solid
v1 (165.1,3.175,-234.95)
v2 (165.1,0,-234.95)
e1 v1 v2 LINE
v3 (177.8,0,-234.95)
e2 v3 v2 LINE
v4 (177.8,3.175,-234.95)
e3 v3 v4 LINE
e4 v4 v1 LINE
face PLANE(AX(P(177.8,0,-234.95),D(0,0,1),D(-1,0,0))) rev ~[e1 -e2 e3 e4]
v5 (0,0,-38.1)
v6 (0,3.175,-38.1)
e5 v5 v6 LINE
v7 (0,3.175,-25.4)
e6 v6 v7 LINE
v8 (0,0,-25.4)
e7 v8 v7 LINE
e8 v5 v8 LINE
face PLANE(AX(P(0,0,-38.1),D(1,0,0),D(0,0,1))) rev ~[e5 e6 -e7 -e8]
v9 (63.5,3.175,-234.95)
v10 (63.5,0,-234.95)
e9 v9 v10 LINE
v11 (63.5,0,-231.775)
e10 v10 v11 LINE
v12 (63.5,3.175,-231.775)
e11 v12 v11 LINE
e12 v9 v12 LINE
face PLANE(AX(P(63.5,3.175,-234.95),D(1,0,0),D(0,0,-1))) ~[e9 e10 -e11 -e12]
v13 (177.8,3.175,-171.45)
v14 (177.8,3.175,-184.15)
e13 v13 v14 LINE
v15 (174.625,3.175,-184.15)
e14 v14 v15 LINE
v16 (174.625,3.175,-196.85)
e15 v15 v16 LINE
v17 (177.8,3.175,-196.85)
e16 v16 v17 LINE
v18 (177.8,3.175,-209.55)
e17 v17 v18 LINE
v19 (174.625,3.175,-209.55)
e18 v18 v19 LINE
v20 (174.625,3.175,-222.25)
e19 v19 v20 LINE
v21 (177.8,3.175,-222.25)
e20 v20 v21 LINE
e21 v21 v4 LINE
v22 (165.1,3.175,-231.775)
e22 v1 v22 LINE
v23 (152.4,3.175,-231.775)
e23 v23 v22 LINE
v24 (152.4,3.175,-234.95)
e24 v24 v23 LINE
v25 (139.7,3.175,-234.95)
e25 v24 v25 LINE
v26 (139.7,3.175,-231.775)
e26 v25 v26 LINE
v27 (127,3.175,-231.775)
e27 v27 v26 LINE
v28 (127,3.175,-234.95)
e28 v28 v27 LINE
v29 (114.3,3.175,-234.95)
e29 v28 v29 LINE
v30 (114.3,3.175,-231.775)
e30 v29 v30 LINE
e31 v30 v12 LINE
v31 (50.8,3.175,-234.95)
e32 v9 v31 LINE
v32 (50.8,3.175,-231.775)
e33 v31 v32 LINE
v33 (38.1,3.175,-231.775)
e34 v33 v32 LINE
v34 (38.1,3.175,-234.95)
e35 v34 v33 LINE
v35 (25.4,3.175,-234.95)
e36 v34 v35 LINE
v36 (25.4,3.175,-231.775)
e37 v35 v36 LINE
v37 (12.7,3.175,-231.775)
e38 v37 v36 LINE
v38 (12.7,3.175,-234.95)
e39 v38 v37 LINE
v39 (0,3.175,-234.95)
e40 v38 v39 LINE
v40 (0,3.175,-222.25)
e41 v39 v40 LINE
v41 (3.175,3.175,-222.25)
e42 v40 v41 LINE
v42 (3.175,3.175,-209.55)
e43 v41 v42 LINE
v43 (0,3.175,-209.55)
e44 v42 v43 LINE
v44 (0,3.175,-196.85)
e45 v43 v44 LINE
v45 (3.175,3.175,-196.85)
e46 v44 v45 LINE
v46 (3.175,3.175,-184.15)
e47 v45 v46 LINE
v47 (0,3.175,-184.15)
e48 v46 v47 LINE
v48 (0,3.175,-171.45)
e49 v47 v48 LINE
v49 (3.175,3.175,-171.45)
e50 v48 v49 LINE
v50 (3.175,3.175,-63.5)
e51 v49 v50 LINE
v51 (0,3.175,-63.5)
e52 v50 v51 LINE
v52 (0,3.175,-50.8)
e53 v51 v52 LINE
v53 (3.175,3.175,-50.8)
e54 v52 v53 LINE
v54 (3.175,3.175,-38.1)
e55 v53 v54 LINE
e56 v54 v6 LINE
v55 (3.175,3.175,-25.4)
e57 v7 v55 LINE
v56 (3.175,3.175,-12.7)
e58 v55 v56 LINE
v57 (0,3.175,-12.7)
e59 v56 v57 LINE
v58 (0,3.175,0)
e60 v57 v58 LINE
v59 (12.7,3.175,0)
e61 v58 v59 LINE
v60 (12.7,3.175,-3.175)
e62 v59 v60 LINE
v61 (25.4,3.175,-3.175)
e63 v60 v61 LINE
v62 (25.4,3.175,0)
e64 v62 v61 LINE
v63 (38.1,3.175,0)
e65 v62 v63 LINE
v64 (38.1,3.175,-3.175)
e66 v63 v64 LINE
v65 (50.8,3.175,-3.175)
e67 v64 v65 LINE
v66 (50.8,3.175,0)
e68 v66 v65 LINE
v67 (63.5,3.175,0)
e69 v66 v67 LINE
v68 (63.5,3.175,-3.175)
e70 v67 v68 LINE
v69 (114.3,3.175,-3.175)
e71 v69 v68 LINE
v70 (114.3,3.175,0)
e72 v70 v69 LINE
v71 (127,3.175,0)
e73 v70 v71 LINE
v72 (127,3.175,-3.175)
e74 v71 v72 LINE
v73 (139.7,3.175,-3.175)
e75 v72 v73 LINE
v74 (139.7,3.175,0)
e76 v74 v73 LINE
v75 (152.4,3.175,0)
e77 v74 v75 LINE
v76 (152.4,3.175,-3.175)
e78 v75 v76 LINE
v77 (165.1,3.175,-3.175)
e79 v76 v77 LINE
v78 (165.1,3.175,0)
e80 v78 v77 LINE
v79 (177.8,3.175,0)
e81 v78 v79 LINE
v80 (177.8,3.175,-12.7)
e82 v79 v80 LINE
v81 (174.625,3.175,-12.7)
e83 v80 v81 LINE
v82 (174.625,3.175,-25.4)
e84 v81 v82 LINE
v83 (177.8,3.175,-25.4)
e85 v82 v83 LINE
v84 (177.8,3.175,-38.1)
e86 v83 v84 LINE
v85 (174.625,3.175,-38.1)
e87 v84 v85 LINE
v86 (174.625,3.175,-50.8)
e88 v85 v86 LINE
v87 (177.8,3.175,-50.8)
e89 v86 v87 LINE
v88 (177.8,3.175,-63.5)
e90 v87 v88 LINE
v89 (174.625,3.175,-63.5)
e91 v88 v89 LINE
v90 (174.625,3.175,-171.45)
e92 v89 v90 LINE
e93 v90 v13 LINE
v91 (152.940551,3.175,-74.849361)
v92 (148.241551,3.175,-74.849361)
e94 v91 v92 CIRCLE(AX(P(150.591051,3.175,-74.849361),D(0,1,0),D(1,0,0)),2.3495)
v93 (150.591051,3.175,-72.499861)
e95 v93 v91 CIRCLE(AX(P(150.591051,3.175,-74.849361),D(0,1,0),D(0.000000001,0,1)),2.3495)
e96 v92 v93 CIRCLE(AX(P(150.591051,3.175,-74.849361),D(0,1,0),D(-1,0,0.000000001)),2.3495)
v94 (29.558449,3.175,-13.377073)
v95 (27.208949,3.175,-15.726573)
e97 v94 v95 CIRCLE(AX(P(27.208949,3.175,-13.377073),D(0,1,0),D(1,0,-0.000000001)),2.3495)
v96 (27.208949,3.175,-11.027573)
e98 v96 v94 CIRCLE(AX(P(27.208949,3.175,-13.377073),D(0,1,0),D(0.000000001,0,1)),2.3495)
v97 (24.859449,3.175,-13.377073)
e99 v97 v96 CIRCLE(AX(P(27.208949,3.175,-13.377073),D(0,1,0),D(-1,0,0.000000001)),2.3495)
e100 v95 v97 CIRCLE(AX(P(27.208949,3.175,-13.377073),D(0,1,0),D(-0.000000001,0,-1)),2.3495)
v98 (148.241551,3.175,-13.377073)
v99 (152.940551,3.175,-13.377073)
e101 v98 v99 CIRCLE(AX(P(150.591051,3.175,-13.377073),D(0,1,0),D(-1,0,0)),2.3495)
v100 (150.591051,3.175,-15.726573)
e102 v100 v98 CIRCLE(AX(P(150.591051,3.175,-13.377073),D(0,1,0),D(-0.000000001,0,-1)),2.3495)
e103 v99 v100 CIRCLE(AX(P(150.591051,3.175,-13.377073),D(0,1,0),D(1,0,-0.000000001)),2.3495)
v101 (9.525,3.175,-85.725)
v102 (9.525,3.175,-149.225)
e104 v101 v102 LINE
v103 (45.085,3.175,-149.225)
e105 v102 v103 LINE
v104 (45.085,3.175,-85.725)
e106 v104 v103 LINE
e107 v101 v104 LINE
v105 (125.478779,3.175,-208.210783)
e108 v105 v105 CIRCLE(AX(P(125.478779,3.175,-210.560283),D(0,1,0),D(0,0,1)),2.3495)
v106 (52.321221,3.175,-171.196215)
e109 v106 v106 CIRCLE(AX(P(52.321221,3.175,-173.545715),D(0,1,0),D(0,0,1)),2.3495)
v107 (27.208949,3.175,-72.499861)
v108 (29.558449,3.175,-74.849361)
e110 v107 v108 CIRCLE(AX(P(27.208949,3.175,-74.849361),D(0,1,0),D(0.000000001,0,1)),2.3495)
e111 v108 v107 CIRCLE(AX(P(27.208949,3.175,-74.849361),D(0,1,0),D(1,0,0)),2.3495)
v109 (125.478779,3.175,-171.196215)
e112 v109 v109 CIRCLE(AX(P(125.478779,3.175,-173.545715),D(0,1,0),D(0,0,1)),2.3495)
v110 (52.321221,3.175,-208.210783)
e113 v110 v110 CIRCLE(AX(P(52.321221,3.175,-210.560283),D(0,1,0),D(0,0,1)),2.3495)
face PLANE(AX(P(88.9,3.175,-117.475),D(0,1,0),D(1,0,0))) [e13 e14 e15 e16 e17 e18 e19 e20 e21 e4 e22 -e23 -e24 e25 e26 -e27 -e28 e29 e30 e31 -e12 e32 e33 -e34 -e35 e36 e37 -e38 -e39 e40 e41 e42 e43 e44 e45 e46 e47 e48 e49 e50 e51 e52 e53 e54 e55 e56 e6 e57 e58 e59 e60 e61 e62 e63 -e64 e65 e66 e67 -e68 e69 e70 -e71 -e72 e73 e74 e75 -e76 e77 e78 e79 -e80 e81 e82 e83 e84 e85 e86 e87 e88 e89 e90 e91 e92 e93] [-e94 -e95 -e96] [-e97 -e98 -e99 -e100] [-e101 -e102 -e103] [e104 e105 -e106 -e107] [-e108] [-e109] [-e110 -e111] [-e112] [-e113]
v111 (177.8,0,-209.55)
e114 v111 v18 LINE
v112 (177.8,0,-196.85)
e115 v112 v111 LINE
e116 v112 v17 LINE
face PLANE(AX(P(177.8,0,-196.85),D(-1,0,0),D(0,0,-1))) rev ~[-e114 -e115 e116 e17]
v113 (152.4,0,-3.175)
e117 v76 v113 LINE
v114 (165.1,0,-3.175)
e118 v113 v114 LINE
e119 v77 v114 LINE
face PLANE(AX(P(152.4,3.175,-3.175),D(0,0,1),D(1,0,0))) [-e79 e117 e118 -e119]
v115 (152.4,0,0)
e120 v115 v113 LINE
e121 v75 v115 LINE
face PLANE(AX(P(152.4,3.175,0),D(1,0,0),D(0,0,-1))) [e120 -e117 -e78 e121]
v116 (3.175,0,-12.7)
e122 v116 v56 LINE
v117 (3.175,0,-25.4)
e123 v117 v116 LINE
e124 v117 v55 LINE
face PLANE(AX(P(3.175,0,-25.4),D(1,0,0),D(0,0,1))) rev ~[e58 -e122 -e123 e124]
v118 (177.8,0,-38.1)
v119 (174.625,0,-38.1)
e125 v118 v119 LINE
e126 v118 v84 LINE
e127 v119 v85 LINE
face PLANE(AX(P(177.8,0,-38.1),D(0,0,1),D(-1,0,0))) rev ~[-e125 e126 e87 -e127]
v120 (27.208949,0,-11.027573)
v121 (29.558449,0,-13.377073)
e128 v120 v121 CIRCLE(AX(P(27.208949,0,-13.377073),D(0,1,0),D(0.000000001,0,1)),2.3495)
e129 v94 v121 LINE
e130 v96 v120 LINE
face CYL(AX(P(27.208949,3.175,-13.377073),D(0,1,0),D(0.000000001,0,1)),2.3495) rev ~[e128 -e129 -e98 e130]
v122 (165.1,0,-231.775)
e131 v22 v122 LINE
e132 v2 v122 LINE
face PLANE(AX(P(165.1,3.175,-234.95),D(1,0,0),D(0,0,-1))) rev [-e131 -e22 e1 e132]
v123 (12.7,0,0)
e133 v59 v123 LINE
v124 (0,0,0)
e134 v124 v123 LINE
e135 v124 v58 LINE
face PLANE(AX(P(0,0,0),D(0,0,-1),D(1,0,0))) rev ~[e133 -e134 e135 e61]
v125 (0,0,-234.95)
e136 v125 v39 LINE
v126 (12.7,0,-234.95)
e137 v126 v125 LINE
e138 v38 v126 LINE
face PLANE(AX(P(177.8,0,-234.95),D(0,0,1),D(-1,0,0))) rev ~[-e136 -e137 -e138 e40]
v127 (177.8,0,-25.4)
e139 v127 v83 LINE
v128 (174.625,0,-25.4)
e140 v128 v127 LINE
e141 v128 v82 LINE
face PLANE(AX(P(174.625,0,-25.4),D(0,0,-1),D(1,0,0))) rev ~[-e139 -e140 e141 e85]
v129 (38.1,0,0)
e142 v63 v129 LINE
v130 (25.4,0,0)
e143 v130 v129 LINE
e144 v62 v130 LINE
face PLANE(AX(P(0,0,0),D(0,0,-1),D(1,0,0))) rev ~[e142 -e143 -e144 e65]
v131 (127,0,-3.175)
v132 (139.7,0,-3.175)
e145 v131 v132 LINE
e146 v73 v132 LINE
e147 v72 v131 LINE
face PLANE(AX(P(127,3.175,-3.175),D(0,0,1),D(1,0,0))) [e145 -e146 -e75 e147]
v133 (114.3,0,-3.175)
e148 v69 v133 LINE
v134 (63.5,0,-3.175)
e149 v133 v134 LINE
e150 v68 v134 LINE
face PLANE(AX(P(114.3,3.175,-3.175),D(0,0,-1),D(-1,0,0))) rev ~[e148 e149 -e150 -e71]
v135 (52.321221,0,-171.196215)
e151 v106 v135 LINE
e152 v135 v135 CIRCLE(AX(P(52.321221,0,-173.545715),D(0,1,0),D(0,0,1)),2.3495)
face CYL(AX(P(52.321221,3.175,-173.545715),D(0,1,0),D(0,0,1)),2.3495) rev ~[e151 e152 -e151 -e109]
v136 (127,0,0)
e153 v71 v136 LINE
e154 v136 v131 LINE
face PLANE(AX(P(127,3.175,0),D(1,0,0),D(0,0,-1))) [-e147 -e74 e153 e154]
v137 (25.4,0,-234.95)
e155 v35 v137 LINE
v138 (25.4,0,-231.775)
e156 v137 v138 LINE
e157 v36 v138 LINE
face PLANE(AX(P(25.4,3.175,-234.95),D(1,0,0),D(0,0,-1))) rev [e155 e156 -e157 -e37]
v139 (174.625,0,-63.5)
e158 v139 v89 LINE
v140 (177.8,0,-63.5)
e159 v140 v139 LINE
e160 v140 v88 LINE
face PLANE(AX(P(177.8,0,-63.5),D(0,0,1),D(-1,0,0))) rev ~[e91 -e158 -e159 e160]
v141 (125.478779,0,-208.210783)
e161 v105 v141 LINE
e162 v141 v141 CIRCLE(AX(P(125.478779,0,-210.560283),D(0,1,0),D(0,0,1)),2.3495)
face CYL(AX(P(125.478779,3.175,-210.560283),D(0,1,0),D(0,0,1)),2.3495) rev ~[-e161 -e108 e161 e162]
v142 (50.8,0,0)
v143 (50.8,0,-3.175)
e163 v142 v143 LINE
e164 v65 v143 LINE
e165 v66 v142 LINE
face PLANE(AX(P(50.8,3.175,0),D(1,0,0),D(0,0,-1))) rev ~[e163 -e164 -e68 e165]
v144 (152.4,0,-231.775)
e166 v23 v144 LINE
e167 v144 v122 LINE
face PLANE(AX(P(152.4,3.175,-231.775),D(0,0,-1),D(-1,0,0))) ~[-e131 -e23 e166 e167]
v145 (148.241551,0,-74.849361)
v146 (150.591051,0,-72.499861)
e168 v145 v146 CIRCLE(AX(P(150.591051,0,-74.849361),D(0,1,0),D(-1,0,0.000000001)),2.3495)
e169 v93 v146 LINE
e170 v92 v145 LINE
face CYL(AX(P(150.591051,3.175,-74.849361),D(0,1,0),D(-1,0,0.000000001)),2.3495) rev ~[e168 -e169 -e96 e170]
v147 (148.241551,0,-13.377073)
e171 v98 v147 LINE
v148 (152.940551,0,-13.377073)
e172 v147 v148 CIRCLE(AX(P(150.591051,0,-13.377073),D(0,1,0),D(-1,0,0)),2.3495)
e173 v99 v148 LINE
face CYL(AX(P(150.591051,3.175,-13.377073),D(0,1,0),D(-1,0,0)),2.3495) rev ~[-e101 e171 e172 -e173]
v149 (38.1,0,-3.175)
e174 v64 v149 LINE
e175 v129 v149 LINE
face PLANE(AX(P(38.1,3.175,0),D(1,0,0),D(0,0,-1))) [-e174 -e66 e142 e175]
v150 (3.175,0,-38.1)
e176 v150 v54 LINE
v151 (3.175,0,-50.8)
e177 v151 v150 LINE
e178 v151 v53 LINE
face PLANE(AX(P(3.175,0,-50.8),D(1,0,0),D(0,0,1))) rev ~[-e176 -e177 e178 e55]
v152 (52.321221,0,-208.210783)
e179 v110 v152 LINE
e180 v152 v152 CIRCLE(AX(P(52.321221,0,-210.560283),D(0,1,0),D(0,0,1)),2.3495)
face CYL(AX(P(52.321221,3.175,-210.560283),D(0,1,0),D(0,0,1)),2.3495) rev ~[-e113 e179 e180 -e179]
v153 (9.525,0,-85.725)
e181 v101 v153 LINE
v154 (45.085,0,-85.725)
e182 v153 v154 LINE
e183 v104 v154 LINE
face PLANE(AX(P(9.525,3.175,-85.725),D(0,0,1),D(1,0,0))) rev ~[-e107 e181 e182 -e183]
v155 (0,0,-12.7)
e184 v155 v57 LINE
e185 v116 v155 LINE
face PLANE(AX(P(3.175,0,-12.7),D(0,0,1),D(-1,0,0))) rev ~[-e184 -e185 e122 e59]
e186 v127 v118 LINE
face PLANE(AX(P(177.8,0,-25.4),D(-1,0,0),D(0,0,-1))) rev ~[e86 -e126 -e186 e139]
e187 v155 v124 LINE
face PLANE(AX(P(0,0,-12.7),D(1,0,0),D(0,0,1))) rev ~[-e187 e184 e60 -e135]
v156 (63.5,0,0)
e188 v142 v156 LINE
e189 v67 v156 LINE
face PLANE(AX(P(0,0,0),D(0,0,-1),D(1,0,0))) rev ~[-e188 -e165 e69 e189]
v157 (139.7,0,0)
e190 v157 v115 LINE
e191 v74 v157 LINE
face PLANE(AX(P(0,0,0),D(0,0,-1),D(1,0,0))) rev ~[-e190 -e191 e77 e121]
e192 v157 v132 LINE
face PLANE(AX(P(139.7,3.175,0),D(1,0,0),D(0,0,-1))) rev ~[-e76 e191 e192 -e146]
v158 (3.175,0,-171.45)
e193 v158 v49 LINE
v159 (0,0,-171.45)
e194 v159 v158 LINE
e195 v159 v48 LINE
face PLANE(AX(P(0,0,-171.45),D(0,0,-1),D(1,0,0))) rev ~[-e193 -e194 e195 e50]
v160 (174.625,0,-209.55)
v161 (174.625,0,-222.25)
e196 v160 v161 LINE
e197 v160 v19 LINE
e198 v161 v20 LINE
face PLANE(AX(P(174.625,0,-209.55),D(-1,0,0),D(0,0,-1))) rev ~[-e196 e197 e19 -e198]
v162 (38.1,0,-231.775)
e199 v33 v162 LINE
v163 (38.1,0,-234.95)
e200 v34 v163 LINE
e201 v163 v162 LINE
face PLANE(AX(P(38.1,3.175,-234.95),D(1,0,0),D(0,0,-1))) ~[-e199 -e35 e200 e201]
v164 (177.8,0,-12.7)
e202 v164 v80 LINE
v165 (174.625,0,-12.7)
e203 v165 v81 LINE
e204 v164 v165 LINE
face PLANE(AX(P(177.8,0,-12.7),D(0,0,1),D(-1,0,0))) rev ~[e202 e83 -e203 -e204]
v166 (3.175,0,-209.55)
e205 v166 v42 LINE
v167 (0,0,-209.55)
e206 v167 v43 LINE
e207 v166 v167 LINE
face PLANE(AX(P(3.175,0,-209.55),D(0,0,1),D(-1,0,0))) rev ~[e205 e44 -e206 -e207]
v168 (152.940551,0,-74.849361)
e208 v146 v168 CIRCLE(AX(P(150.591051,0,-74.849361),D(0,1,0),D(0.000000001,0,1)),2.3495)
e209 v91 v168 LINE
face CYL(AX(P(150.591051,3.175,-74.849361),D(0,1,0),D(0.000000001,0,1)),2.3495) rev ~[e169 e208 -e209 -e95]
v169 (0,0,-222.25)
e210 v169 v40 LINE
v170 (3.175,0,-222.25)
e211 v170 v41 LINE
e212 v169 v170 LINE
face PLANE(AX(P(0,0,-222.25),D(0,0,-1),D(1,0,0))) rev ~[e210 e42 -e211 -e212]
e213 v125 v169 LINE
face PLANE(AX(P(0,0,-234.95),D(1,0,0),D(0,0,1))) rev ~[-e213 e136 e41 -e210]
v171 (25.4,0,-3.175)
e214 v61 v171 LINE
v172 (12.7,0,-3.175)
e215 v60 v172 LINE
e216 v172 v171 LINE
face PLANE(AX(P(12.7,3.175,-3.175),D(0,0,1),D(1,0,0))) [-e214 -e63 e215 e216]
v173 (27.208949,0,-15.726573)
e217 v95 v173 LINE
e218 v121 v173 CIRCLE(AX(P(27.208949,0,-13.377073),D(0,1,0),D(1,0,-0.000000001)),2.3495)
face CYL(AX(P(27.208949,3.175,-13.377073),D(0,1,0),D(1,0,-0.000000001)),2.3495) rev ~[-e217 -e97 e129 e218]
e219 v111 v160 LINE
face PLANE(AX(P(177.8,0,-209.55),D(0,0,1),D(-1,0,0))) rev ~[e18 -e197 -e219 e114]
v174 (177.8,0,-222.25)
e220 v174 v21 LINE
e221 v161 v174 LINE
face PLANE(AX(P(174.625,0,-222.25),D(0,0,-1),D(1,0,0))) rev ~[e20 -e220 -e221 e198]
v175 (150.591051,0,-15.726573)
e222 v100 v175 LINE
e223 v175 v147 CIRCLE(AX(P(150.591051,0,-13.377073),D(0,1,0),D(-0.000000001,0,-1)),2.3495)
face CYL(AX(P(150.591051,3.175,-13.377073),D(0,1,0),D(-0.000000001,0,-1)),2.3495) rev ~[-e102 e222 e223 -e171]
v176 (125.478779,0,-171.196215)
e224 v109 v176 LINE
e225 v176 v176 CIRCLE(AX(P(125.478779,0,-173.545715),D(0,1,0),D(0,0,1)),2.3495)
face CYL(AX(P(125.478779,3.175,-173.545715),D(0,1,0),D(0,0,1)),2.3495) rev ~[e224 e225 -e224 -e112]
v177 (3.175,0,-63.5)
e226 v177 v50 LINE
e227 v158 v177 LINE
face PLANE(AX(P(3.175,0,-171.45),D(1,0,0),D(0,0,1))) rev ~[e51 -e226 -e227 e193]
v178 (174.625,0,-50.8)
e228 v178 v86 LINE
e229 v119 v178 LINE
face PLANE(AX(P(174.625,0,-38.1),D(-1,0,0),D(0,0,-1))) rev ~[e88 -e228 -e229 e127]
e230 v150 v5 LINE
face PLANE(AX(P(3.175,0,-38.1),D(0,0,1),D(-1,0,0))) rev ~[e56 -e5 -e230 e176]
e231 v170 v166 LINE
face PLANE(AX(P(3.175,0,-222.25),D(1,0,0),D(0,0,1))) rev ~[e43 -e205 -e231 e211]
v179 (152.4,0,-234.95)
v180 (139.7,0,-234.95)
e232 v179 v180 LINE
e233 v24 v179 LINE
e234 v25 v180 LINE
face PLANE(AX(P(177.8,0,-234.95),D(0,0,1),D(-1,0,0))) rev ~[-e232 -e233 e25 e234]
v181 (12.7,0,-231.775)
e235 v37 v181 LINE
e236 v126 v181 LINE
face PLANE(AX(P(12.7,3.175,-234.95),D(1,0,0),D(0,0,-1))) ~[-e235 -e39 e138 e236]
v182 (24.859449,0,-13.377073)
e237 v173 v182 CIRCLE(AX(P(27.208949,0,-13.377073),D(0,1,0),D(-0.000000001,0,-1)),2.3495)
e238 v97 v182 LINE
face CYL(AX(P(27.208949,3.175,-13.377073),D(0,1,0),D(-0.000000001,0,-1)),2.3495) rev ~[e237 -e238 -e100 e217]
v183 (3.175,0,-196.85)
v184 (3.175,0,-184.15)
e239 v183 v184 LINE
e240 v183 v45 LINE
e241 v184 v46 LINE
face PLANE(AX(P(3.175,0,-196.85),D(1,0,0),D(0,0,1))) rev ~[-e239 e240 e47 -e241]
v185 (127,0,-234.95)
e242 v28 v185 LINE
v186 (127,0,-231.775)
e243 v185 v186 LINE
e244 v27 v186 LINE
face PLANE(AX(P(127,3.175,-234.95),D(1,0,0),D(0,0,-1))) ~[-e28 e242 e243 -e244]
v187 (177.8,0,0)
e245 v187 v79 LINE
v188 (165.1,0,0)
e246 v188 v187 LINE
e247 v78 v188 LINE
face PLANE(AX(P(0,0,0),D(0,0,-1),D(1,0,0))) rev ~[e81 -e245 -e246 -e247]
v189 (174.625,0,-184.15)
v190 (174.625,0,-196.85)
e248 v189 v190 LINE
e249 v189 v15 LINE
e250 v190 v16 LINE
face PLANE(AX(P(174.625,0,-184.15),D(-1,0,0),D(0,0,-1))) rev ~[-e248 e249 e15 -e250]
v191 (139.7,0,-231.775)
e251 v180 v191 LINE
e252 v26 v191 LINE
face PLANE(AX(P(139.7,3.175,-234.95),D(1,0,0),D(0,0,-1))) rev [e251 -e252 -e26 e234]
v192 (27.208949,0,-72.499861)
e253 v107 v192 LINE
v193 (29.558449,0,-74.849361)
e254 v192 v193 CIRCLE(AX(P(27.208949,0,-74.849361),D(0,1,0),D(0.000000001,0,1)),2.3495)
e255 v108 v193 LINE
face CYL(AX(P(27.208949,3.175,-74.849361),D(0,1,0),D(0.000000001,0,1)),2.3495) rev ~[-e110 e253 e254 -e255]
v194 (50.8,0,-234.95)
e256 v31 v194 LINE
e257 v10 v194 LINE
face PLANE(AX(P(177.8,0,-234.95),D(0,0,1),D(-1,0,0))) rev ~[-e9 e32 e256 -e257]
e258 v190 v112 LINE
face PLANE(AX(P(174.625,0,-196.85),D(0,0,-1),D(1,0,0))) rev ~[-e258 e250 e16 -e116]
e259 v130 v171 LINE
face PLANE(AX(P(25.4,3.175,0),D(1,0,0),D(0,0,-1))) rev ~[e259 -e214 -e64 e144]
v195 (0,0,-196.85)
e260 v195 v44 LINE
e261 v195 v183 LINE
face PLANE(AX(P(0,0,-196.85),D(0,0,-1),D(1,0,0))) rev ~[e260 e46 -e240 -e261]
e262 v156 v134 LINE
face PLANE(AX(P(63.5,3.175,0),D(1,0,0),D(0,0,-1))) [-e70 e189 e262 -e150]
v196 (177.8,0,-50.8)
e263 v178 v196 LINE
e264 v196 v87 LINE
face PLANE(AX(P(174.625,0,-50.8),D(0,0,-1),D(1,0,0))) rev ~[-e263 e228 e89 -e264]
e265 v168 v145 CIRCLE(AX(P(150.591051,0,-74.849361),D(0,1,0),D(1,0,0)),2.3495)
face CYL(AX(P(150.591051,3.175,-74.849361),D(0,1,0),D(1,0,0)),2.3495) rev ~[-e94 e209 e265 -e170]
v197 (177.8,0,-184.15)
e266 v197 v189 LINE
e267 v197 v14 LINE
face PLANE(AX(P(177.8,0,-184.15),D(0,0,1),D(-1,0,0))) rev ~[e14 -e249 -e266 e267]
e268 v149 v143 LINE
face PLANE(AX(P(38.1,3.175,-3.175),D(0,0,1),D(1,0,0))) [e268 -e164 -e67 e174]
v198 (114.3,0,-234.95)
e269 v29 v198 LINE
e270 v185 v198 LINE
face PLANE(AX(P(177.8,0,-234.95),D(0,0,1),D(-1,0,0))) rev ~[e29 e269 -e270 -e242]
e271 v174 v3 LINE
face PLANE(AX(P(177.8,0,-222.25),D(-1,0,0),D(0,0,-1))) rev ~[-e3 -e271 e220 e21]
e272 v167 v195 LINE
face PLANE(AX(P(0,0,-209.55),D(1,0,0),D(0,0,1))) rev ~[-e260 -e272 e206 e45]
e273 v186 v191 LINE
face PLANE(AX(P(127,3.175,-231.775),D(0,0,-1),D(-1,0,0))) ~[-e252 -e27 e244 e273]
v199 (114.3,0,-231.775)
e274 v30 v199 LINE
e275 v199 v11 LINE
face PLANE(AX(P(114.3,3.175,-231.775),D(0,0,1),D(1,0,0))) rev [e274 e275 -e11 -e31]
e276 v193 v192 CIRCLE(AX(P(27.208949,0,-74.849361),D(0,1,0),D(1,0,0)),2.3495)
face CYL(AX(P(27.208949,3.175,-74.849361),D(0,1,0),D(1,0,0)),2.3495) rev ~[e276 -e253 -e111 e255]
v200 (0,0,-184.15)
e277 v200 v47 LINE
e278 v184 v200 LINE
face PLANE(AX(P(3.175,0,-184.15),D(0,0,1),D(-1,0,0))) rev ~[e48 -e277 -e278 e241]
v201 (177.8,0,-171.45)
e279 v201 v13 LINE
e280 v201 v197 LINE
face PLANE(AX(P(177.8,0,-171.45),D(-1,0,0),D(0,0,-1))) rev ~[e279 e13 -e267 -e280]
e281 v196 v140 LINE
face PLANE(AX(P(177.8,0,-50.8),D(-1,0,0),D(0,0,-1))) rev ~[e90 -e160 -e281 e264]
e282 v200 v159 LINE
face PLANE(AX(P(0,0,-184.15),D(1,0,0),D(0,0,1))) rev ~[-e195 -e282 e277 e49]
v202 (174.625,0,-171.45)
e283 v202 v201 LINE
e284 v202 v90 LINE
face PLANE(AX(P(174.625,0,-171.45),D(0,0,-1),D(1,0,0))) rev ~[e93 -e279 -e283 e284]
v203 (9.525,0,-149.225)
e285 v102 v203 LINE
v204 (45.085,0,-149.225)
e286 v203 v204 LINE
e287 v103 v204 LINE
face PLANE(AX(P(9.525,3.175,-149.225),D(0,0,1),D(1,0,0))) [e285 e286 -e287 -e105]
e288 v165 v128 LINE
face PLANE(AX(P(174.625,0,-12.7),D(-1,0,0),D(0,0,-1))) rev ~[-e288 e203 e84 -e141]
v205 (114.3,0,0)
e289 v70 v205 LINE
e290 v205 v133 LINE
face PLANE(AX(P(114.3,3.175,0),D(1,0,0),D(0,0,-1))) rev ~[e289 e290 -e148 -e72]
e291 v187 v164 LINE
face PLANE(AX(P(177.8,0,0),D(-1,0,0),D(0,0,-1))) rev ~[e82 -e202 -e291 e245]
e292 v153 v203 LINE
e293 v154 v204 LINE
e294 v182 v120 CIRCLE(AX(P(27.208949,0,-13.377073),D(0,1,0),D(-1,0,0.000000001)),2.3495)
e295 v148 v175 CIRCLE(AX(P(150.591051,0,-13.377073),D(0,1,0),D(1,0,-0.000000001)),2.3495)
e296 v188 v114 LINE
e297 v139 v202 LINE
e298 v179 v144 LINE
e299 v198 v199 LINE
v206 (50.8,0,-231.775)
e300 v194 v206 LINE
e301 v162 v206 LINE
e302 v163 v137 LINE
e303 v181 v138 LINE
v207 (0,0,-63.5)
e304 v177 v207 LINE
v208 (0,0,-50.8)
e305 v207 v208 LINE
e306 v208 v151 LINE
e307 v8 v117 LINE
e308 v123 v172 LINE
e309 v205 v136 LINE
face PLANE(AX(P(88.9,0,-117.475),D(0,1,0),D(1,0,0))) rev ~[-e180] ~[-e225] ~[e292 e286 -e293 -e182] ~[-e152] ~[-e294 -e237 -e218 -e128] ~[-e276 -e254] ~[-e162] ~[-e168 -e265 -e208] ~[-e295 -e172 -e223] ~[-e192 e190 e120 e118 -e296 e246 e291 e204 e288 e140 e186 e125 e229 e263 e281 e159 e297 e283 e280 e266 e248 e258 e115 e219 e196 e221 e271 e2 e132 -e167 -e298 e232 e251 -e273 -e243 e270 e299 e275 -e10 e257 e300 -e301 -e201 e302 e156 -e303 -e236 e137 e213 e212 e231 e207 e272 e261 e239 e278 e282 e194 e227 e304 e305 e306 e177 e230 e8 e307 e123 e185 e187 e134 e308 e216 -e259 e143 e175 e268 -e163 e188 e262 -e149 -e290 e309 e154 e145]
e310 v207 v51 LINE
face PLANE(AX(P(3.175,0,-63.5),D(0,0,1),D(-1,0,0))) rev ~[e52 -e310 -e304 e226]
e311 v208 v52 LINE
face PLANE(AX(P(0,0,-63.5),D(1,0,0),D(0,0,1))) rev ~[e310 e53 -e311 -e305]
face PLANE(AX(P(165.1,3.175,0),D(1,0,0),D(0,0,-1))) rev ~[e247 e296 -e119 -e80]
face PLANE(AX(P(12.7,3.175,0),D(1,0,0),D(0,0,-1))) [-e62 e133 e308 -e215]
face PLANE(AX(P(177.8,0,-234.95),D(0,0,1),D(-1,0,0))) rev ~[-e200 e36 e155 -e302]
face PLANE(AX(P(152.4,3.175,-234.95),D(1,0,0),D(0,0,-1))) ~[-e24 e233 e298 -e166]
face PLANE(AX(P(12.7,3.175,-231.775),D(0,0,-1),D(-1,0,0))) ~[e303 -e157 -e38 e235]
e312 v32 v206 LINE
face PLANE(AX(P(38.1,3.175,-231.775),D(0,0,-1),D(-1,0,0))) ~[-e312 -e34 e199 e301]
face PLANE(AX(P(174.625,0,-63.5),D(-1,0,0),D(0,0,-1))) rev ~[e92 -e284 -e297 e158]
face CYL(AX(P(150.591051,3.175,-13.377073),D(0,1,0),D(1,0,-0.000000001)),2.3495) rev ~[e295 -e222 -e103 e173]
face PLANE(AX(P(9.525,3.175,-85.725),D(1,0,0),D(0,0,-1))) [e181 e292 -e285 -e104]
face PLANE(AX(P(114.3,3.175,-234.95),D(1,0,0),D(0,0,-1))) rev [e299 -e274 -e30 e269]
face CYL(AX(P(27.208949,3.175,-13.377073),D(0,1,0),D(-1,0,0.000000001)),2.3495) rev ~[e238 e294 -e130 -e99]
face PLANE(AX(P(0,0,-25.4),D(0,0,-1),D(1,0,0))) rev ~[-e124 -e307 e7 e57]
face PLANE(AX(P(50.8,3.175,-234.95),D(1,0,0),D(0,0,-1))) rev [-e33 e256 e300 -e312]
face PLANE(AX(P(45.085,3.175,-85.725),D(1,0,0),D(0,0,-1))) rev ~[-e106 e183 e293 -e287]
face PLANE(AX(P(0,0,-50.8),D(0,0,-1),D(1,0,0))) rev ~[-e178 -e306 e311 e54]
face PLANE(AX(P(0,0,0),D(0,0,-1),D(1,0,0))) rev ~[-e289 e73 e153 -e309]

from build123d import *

# Parameters (mm, degrees)
BOSS_EXTRUDE1_DEPTH = 3.175
SKETCH5_W           = 12.7
SKETCH5_H           = 3.175
SKETCH5_W_2         = 25.4
CUT_EXTRUDE4_DEPTH  = 7.62
SKETCH7_W           = 35.56
SKETCH7_H           = 63.5
CUT_EXTRUDE5_DEPTH  = 7.62
CUT_EXTRUDE6_DEPTH  = 7.62
SKETCH9_R           = 2.3495
CUT_EXTRUDE7_DEPTH  = 25.4


with BuildPart() as part:
    # Sketch1 → Boss-Extrude1 (new body)
    with BuildSketch(Plane(origin=(0, 0, 0), x_dir=(1, 0, 0), z_dir=(0, 1, 0))):
        Polygon((3.175, 209.55), (0, 209.55), (0, 196.85), (3.175, 196.85), (3.175, 184.15), (0, 184.15), (0, 171.45), (3.175, 171.45), (3.175, 63.5), (0, 63.5), (0, 50.8), (3.175, 50.8), (3.175, 38.1), (0, 38.1), (0, 25.4), (3.175, 25.4), (3.175, 12.7), (0, 12.7), (0, 0), (177.8, 0), (177.8, 12.7), (174.625, 12.7), (174.625, 25.4), (177.8, 25.4), (177.8, 38.1), (174.625, 38.1), (174.625, 50.8), (177.8, 50.8), (177.8, 63.5), (174.625, 63.5), (174.625, 171.45), (177.8, 171.45), (177.8, 184.15), (174.625, 184.15), (174.625, 196.85), (177.8, 196.85), (177.8, 209.55), (174.625, 209.55), (174.625, 222.25), (177.8, 222.25), (177.8, 234.95), (0, 234.95), (0, 222.25), (3.175, 222.25), align=None)
    extrude(amount=BOSS_EXTRUDE1_DEPTH)

    # Sketch5 → Cut-Extrude4 (cut)
    with BuildSketch(Plane(origin=(0, 3.175, 0), x_dir=(1, 0, 0), z_dir=(0, 1, 0))):
        with Locations((19.05, 1.5875)):
            Rectangle(SKETCH5_W, SKETCH5_H)
        with Locations((44.45, 1.5875)):
            Rectangle(SKETCH5_W, SKETCH5_H)
        with Locations((76.2, 1.5875)):
            Rectangle(SKETCH5_W_2, SKETCH5_H)
        with Locations((101.6, 1.5875)):
            Rectangle(SKETCH5_W_2, SKETCH5_H)
        with Locations((133.35, 1.5875)):
            Rectangle(SKETCH5_W, SKETCH5_H)
        with Locations((158.75, 1.5875)):
            Rectangle(SKETCH5_W, SKETCH5_H)
    cut_extrude4 = extrude(amount=-CUT_EXTRUDE4_DEPTH, mode=Mode.SUBTRACT)

    # Mirror1: Cut-Extrude4 across plane
    add(cut_extrude4.mirror(Plane.XY.offset(-117.475)), mode=Mode.SUBTRACT)

    # Sketch7 → Cut-Extrude5 (cut)
    with BuildSketch(Plane(origin=(0, 3.175, 0), x_dir=(1, 0, 0), z_dir=(0, 1, 0))):
        with Locations((27.305, 117.475)):
            Rectangle(SKETCH7_W, SKETCH7_H)
    extrude(amount=-CUT_EXTRUDE5_DEPTH, mode=Mode.SUBTRACT)

    # Sketch8 → Cut-Extrude6 (cut)
    with BuildSketch(Plane(origin=(0, 3.175, 0), x_dir=(1, 0, 0), z_dir=(0, 1, 0))):
        with BuildLine():
            ThreePointArc((24.859449392, 13.37707256), (25.54760201, 11.715725178), (27.208949392, 11.02757256))
            Line((27.208949392, 11.02757256), (27.208949392, 13.37707256))
            Line((27.208949392, 13.37707256), (24.859449392, 13.37707256))
        make_face()
        with BuildLine():
            ThreePointArc((27.208949392, 15.72657256), (25.54760201, 15.038419942), (24.859449392, 13.37707256))
            Line((24.859449392, 13.37707256), (27.208949392, 13.37707256))
            Line((27.208949392, 13.37707256), (27.208949392, 15.72657256))
        make_face()
        with BuildLine():
            Line((27.208949392, 15.72657256), (27.208949392, 13.37707256))
            Line((27.208949392, 13.37707256), (29.558449392, 13.37707256))
            ThreePointArc((29.558449392, 13.37707256), (28.870296774, 15.038419942), (27.208949392, 15.72657256))
        make_face()
        with BuildLine():
            Line((27.208949392, 13.37707256), (27.208949392, 11.02757256))
            ThreePointArc((27.208949392, 11.02757256), (28.870296774, 11.715725178), (29.558449392, 13.37707256))
            Line((29.558449392, 13.37707256), (27.208949392, 13.37707256))
        make_face()
        with BuildLine():
            ThreePointArc((29.558449392, 74.849360588), (25.54760201, 76.51070797), (27.208949392, 72.499860588))
            Line((27.208949392, 72.499860588), (27.208949392, 74.849360588))
            Line((27.208949392, 74.849360588), (29.558449392, 74.849360588))
        make_face()
        with BuildLine():
            Line((27.208949392, 74.849360588), (27.208949392, 72.499860588))
            ThreePointArc((27.208949392, 72.499860588), (28.870296774, 73.188013206), (29.558449392, 74.849360588))
            Line((29.558449392, 74.849360588), (27.208949392, 74.849360588))
        make_face()
        with BuildLine():
            ThreePointArc((148.241550608, 74.849360588), (148.929703226, 73.188013206), (150.591050608, 72.499860588))
            Line((150.591050608, 72.499860588), (150.591050608, 74.849360588))
            Line((150.591050608, 74.849360588), (148.241550608, 74.849360588))
        make_face()
        with BuildLine():
            Line((150.591050608, 74.849360588), (150.591050608, 72.499860588))
            ThreePointArc((150.591050608, 72.499860588), (152.25239799, 73.188013206), (152.940550608, 74.849360588))
            ThreePointArc((152.940550608, 74.849360588), (150.591050608, 77.198860588), (148.241550608, 74.849360588))
            Line((148.241550608, 74.849360588), (150.591050608, 74.849360588))
        make_face()
        with BuildLine():
            ThreePointArc((150.591050608, 15.72657256), (148.929703226, 15.038419942), (148.241550608, 13.37707256))
            Line((148.241550608, 13.37707256), (150.591050608, 13.37707256))
            Line((150.591050608, 13.37707256), (150.591050608, 15.72657256))
        make_face()
        with BuildLine():
            Line((150.591050608, 13.37707256), (148.241550608, 13.37707256))
            ThreePointArc((148.241550608, 13.37707256), (150.591050608, 11.02757256), (152.940550608, 13.37707256))
            ThreePointArc((152.940550608, 13.37707256), (152.25239799, 15.038419942), (150.591050608, 15.72657256))
            Line((150.591050608, 15.72657256), (150.591050608, 13.37707256))
        make_face()
    extrude(amount=-CUT_EXTRUDE6_DEPTH, mode=Mode.SUBTRACT)

    # Sketch9 → Cut-Extrude7 (cut)
    with BuildSketch(Plane(origin=(0, 3.175, 0), x_dir=(1, 0, 0), z_dir=(0, 1, 0))):
        with Locations(Location((52.32122124, 210.560282968, 0), (0, 0, 270))):
            Circle(SKETCH9_R)
        with Locations(Location((52.32122124, 173.54571463, 0), (0, 0, 270))):
            Circle(SKETCH9_R)
        with Locations(Location((125.47877876, 173.54571463, 0), (0, 0, 270))):
            Circle(SKETCH9_R)
        with Locations(Location((125.47877876, 210.560282968, 0), (0, 0, 270))):
            Circle(SKETCH9_R)
    extrude(amount=-CUT_EXTRUDE7_DEPTH, mode=Mode.SUBTRACT)


solid = part.part
